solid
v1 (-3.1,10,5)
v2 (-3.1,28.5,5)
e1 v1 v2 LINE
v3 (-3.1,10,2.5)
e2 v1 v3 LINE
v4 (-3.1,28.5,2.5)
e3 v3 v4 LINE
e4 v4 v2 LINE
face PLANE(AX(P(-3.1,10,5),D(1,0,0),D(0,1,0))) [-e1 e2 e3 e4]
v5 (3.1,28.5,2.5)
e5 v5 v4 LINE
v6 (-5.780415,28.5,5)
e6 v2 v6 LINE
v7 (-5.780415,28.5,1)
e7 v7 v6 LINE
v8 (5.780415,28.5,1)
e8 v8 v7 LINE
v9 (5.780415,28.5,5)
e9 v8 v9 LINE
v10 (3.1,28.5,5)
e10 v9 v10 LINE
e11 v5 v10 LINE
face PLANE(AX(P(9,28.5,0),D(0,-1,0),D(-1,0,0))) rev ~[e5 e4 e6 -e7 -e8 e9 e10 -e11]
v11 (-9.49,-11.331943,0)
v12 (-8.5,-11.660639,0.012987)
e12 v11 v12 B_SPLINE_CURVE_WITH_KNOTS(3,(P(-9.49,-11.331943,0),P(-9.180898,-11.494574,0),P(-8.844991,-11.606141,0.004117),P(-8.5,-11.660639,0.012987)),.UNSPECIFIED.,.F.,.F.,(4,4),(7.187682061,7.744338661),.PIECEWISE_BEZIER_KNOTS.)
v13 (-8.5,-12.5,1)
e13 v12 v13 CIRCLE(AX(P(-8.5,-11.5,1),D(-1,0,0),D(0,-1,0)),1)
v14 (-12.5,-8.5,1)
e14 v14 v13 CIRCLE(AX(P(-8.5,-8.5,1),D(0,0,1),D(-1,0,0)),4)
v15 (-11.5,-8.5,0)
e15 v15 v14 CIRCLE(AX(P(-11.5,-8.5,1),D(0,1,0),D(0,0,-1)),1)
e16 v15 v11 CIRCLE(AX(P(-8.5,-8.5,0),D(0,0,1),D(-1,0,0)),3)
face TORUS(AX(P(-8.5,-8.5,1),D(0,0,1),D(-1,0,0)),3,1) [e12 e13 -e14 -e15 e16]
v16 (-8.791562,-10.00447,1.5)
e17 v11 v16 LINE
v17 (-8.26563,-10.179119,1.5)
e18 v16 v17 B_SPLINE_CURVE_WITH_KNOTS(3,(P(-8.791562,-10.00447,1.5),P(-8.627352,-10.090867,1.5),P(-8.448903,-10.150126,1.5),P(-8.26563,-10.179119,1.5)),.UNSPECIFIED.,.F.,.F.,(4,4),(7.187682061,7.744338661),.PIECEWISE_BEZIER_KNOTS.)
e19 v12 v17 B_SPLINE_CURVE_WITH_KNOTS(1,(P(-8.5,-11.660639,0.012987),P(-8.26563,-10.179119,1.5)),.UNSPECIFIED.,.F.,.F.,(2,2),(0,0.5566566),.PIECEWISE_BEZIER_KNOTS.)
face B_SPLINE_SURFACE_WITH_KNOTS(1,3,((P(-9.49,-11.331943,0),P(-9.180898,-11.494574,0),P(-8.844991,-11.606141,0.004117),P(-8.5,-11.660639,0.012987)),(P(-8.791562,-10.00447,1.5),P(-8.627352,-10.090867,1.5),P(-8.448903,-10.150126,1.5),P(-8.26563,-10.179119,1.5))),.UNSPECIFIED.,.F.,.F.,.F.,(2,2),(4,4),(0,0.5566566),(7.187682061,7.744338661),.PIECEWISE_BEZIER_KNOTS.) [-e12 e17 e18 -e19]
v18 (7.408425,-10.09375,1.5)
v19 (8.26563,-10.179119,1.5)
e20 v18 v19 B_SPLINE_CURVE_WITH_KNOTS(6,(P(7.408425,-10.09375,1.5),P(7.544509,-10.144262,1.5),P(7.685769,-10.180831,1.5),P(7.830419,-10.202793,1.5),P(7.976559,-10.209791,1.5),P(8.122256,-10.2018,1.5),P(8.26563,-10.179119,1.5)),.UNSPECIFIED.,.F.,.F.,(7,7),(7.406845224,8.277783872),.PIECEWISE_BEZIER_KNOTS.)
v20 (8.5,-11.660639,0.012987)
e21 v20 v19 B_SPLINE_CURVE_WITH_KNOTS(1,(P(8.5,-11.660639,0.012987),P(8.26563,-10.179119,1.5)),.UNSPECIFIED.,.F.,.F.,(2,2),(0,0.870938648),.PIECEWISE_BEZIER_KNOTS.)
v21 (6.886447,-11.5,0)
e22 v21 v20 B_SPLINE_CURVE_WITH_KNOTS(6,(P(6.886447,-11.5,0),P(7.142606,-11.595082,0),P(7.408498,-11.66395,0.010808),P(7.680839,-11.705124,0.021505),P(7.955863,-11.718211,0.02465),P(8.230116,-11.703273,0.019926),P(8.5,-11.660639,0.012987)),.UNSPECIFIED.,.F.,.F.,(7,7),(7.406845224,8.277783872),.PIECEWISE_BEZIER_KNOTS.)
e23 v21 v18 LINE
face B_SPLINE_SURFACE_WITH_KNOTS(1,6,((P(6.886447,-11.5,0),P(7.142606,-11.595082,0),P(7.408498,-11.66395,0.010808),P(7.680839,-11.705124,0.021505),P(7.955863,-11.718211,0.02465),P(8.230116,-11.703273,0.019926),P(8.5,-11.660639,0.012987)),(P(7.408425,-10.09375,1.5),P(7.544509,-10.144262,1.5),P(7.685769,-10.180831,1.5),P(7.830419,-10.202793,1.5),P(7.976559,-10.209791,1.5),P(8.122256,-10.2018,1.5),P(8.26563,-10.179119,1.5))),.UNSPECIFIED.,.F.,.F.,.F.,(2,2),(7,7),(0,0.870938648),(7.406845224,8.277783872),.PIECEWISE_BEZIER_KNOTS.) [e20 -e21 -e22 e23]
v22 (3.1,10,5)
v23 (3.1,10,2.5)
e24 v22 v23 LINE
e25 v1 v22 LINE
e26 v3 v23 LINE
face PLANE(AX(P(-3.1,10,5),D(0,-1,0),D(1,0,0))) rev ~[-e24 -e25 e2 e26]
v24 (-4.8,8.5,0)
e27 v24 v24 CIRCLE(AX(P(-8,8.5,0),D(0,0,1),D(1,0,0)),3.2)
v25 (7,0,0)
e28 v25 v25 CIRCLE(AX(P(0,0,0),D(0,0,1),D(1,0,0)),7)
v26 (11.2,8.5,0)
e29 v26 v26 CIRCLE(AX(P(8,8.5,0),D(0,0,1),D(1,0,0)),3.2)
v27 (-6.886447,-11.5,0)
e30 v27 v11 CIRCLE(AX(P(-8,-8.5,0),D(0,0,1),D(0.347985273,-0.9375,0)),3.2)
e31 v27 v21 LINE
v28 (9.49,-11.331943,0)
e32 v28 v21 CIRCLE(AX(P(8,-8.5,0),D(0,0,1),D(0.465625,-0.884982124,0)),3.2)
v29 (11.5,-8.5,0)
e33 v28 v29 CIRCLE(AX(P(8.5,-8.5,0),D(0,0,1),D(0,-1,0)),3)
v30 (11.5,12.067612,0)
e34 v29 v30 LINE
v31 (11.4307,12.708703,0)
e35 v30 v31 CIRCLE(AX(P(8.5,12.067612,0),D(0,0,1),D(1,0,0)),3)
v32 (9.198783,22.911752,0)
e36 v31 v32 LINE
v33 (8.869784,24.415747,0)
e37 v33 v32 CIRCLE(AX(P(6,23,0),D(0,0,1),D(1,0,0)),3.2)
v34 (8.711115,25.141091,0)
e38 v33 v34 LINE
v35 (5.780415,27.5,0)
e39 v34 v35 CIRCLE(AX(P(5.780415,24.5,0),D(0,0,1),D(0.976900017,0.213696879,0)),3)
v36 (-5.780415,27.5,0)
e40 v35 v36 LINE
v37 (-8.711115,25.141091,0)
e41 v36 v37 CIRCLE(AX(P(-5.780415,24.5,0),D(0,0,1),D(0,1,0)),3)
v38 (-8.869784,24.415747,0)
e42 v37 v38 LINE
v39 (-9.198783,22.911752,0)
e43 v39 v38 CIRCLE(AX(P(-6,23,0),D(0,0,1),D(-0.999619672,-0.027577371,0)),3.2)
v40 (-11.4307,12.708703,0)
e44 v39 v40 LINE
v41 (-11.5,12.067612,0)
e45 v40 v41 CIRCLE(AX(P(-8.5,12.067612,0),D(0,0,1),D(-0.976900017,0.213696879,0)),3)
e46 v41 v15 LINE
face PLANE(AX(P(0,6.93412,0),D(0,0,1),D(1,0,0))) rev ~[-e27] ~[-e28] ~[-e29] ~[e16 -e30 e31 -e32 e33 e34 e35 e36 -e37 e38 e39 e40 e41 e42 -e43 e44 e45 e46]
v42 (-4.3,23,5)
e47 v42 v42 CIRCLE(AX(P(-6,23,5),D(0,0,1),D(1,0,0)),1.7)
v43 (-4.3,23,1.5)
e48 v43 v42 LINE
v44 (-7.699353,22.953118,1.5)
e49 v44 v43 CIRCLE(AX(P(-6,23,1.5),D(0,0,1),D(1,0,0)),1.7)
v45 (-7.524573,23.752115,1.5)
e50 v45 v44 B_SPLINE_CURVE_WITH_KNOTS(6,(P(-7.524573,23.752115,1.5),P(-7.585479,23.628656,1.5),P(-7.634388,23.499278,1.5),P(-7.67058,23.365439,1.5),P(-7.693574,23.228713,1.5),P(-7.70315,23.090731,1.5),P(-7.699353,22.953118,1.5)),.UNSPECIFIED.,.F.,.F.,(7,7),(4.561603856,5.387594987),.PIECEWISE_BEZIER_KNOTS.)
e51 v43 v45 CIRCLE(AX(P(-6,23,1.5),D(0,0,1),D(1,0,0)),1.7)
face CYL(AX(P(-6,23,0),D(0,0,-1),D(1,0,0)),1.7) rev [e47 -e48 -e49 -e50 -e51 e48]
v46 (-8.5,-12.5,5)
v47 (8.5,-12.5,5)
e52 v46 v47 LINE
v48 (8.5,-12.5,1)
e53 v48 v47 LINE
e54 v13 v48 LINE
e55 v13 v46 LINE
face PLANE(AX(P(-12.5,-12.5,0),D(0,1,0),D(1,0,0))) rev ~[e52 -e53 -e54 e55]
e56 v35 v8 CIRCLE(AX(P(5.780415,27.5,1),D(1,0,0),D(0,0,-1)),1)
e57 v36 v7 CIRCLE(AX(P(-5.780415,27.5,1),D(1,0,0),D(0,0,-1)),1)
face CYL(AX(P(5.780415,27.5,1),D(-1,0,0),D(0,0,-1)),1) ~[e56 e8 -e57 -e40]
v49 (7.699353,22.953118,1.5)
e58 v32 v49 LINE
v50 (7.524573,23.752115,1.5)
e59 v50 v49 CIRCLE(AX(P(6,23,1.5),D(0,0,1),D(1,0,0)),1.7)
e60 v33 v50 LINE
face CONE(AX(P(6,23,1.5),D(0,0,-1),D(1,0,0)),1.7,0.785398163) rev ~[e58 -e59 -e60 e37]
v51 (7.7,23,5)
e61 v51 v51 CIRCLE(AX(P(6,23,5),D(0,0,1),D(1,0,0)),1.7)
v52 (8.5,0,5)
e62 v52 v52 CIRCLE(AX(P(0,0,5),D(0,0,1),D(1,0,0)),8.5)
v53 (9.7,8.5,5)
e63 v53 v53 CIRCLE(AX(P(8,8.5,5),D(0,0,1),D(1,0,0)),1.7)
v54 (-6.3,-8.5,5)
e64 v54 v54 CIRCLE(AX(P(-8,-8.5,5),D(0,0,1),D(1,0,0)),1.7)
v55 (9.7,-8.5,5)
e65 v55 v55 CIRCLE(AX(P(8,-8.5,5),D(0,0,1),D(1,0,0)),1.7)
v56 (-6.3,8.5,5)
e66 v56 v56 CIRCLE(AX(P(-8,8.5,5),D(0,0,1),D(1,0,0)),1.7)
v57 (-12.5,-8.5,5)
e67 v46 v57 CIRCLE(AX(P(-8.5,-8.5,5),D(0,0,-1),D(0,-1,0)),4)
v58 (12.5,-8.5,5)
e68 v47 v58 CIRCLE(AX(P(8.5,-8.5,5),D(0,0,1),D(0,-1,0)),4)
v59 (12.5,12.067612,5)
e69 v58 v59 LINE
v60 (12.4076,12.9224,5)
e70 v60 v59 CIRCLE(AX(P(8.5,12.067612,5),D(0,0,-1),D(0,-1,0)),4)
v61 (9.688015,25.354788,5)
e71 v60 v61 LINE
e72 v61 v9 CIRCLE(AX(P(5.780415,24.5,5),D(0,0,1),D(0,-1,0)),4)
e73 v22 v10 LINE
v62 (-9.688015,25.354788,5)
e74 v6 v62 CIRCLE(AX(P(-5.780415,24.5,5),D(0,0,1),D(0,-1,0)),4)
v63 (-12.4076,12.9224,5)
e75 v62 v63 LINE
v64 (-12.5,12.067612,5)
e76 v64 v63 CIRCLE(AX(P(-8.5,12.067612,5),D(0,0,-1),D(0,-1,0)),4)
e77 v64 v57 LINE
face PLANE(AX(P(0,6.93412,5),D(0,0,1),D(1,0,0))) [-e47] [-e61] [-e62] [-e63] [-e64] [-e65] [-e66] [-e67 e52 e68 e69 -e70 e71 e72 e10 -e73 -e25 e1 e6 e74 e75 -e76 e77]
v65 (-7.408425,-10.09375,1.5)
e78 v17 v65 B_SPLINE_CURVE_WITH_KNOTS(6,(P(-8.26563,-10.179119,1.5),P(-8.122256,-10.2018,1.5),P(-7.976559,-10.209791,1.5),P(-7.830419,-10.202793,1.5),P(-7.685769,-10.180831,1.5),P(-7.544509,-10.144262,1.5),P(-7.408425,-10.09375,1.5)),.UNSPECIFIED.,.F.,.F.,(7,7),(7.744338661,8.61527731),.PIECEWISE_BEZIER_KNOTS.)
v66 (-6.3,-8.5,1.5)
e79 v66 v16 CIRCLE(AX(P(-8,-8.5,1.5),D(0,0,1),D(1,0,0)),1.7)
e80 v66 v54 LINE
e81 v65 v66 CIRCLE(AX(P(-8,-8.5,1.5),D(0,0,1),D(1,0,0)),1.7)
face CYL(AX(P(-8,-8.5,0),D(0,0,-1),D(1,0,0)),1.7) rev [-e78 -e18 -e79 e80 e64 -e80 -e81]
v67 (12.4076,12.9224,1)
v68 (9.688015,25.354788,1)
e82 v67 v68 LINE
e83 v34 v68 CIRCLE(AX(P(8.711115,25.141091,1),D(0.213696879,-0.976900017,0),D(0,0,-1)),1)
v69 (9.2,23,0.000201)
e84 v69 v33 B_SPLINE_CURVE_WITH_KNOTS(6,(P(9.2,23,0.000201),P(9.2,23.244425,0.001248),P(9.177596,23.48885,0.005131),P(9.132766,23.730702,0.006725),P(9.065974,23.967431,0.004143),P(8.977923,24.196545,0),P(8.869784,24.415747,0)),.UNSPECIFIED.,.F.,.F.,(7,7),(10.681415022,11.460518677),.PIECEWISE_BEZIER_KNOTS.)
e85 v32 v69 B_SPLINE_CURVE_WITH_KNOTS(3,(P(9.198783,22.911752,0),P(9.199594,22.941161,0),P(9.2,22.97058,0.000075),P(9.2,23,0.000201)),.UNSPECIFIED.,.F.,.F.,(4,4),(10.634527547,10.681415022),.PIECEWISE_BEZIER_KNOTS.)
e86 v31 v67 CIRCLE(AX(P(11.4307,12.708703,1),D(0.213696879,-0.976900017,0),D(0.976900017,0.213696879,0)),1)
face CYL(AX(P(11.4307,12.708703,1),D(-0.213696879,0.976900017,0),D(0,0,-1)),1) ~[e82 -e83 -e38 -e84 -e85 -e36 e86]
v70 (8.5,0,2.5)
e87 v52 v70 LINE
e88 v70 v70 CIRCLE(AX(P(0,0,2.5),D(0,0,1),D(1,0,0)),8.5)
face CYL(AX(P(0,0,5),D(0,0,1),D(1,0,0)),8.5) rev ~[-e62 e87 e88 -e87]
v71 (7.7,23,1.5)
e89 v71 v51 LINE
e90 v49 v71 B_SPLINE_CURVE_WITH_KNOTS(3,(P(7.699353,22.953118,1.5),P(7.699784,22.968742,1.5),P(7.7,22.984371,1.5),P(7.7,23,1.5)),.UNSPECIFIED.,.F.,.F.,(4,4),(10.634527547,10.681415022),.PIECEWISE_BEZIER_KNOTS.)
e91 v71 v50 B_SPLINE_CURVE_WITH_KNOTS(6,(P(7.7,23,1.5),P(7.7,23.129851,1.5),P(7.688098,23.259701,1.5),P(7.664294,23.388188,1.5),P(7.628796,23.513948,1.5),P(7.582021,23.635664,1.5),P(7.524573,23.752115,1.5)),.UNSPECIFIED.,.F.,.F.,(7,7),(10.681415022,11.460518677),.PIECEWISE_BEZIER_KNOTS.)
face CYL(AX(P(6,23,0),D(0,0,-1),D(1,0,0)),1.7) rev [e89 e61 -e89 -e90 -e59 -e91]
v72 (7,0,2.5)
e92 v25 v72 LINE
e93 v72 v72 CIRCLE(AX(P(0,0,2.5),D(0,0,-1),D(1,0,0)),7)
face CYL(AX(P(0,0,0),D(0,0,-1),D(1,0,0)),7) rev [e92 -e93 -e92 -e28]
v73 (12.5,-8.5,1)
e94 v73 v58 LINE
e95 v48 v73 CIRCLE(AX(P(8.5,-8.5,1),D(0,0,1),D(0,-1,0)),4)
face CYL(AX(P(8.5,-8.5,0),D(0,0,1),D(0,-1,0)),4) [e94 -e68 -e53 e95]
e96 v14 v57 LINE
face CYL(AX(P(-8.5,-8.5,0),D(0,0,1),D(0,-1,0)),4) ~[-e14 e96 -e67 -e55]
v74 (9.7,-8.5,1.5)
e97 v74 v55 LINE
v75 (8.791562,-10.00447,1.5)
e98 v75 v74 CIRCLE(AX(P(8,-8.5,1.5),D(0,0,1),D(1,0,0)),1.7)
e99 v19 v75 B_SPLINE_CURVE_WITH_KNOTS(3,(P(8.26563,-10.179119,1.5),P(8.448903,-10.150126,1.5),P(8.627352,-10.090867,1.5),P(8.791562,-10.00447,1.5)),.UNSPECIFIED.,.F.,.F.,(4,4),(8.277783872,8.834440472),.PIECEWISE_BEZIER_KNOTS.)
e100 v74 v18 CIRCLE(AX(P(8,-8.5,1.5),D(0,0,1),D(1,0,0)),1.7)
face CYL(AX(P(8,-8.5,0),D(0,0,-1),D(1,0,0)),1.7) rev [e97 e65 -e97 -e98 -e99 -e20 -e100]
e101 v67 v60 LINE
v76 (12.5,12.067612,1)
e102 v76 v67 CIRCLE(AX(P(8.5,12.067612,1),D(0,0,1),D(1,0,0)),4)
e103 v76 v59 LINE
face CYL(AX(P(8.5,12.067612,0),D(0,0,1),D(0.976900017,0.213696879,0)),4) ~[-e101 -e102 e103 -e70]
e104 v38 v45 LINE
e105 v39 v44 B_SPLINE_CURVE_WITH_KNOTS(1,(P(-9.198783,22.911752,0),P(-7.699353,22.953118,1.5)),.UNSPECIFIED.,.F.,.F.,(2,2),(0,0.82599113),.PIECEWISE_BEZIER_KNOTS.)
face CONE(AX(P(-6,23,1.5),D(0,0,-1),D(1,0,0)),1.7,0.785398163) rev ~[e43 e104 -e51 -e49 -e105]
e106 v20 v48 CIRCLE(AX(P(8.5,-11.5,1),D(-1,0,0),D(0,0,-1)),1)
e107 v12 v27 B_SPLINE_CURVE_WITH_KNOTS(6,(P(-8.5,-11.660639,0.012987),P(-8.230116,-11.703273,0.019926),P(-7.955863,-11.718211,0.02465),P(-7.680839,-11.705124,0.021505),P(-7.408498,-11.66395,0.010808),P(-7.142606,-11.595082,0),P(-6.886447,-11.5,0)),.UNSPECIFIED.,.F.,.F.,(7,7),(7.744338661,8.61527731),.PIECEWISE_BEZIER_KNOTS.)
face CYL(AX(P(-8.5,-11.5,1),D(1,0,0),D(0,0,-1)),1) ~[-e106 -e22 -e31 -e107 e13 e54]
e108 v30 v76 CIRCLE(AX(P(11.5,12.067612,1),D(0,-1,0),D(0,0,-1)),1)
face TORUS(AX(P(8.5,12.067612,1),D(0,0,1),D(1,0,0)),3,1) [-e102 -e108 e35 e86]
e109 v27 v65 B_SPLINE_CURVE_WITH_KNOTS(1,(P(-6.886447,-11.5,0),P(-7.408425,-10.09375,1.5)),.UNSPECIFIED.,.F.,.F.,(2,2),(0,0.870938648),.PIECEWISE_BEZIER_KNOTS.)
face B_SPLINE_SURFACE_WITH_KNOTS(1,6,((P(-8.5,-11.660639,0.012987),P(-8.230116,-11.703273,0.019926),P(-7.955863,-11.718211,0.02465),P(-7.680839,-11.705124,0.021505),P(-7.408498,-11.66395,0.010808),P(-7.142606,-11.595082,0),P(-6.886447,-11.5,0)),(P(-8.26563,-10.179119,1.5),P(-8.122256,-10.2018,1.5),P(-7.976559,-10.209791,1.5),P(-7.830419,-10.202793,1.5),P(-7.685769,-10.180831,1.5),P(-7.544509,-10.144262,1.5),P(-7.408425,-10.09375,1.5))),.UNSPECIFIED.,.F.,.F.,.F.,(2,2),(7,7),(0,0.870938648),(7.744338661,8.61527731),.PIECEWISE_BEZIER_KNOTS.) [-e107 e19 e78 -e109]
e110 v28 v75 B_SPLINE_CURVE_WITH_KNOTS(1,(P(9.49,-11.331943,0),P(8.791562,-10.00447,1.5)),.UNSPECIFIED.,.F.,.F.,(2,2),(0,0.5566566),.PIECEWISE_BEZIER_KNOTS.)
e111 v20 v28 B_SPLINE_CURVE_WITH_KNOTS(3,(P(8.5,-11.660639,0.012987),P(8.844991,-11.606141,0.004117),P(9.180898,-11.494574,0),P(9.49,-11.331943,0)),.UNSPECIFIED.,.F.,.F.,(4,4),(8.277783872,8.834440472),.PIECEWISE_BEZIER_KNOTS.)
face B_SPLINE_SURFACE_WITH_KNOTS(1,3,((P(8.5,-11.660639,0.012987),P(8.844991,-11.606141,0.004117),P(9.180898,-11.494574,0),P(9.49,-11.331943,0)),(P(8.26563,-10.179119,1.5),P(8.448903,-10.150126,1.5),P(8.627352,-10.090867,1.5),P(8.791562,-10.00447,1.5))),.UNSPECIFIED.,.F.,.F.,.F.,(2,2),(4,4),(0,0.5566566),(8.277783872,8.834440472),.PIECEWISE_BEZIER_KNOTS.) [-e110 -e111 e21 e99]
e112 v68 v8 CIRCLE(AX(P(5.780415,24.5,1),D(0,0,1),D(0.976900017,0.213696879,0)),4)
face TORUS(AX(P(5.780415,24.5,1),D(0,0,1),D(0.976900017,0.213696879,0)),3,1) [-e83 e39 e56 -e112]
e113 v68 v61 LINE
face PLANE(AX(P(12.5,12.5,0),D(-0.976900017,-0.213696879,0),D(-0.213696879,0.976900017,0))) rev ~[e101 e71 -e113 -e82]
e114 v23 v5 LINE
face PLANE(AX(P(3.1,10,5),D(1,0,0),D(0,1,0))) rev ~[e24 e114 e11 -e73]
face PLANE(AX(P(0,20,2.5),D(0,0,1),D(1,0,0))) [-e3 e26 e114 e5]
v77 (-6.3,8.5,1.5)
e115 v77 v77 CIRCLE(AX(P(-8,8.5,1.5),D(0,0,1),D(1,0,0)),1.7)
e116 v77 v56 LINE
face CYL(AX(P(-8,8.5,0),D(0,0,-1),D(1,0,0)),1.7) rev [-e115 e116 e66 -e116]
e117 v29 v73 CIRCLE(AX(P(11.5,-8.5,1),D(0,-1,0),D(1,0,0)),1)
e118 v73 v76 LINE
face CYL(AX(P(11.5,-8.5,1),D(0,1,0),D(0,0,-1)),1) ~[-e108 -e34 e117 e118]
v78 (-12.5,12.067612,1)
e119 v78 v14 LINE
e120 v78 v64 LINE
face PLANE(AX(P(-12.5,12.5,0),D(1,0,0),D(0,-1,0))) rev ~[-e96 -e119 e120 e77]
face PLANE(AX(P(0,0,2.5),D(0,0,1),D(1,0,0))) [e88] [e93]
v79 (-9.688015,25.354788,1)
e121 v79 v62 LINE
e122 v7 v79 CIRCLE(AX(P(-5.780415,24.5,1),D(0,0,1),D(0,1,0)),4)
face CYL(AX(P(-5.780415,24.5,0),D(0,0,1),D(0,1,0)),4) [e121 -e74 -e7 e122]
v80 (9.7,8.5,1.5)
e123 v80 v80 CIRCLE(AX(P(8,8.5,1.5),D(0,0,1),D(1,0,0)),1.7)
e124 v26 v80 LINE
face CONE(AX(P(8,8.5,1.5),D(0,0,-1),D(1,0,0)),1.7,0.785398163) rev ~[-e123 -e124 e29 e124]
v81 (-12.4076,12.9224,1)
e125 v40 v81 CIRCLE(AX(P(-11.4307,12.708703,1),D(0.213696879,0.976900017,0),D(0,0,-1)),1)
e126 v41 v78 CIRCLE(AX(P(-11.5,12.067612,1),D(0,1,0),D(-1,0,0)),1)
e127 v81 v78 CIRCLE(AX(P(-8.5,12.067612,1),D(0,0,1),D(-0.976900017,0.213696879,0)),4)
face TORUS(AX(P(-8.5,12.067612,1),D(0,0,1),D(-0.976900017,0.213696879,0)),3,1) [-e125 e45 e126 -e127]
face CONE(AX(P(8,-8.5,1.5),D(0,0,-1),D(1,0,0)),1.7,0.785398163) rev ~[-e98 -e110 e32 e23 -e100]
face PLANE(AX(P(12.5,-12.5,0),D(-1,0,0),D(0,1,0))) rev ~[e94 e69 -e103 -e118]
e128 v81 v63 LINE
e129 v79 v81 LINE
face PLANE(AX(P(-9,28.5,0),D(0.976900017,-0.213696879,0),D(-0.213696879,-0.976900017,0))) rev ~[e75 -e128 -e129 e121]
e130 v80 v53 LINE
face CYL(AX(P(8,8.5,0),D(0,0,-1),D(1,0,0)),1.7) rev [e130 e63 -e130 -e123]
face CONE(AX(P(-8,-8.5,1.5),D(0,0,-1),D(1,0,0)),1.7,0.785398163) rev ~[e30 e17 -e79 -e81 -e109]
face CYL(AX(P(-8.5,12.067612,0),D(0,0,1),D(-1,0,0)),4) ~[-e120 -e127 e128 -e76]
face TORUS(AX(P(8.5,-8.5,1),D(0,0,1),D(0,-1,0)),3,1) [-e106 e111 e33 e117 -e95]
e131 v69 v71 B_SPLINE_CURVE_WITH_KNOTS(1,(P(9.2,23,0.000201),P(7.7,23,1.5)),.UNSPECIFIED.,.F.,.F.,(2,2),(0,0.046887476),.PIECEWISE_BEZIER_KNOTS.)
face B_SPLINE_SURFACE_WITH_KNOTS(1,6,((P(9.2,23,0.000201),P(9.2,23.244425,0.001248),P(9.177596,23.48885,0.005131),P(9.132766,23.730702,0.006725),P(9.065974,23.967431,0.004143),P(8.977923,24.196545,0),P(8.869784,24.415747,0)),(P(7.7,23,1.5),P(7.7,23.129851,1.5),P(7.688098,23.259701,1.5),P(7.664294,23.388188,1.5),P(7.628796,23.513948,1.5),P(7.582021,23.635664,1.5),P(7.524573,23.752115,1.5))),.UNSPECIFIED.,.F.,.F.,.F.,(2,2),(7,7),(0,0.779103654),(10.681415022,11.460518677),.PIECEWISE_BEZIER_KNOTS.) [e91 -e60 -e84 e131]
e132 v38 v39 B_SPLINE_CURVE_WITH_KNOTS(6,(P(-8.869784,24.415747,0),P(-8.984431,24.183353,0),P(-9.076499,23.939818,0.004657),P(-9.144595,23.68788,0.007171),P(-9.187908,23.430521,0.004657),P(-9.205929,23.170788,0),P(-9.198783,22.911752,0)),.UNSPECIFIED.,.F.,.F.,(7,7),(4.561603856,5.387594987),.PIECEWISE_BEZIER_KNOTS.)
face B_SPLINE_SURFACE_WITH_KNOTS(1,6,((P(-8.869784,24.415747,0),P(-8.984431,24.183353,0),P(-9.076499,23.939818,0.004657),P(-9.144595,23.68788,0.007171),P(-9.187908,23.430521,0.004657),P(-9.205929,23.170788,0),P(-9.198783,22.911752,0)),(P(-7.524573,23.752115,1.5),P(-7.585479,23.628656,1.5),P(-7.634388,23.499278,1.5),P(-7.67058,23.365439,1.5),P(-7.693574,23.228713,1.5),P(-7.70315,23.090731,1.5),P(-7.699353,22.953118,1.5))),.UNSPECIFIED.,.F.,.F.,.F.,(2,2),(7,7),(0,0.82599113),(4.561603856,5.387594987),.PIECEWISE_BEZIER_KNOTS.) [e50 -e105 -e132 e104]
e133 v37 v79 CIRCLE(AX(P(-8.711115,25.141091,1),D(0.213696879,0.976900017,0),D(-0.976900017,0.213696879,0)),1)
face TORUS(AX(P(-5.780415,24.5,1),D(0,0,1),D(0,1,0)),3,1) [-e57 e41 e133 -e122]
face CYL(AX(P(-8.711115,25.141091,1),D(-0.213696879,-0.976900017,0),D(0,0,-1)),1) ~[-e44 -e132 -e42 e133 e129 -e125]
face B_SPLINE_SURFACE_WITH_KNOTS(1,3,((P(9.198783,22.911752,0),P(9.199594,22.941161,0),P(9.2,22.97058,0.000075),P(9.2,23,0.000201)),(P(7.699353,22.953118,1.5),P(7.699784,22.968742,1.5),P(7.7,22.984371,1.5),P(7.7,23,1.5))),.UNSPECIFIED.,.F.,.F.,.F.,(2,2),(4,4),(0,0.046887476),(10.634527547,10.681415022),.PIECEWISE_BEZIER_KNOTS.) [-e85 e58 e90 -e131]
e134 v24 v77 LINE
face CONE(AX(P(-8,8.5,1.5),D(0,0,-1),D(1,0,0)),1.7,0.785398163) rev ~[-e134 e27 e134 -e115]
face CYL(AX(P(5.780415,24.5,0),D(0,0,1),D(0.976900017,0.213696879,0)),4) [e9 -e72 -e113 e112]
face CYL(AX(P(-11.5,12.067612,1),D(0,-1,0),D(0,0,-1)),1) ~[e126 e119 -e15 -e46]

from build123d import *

# Parameters (mm, degrees)
SKETCH_R        = 7
SKETCH_R_2      = 1.7
PAD_DEPTH       = 5
SKETCH001_R     = 8.5
SKETCH001_W     = 6.2
SKETCH001_H     = 20
POCKET_DEPTH    = 2.5
FILLET_R        = 4
FILLET001_R     = 4
FILLET002_R     = 4
FILLET003_R     = 4
FILLET004_R     = 4
FILLET005_R     = 4
FILLET006_R     = 1
CHAMFER_SIZE    = 1.5
CHAMFER001_SIZE = 1.5
CHAMFER002_SIZE = 1.5
CHAMFER003_SIZE = 1.5
CHAMFER004_SIZE = 1.5
CHAMFER005_SIZE = 1.5


with BuildPart() as part:
    # Sketch → Pad (new body)
    with BuildSketch(Plane.XY):
        Polygon((-12.5, -12.5), (12.5, -12.5), (12.5, 12.5), (9, 28.5), (-9, 28.5), (-12.5, 12.5), align=None)
        Circle(SKETCH_R, mode=Mode.SUBTRACT)
        with Locations((-8, 8.5)):
            Circle(SKETCH_R_2, mode=Mode.SUBTRACT)
        with Locations((8, 8.5)):
            Circle(SKETCH_R_2, mode=Mode.SUBTRACT)
        with Locations((-8, -8.5)):
            Circle(SKETCH_R_2, mode=Mode.SUBTRACT)
        with Locations((8, -8.5)):
            Circle(SKETCH_R_2, mode=Mode.SUBTRACT)
        with Locations((-6, 23)):
            Circle(SKETCH_R_2, mode=Mode.SUBTRACT)
        with Locations((6, 23)):
            Circle(SKETCH_R_2, mode=Mode.SUBTRACT)
    extrude(amount=PAD_DEPTH)

    # Sketch001 → Pocket (cut)
    with BuildSketch(Plane.XY.offset(5)):
        Circle(SKETCH001_R)
        with Locations((0, 20)):
            Rectangle(SKETCH001_W, SKETCH001_H)
    extrude(amount=-POCKET_DEPTH, mode=Mode.SUBTRACT)

    # Fillet
    fillet_edges = [part.edges().sort_by_distance(p)[0] for p in [
        (-12.5, -12.5, 2.5),
    ]]
    fillet(fillet_edges, radius=FILLET_R)

    # Fillet001
    fillet001_edges = [part.edges().sort_by_distance(p)[0] for p in [
        (12.5, -12.5, 2.5),
    ]]
    fillet(fillet001_edges, radius=FILLET001_R)

    # Fillet002
    fillet002_edges = [part.edges().sort_by_distance(p)[0] for p in [
        (-12.5, 12.5, 2.5),
    ]]
    fillet(fillet002_edges, radius=FILLET002_R)

    # Fillet003
    fillet003_edges = [part.edges().sort_by_distance(p)[0] for p in [
        (12.5, 12.5, 2.5),
    ]]
    fillet(fillet003_edges, radius=FILLET003_R)

    # Fillet004
    fillet004_edges = [part.edges().sort_by_distance(p)[0] for p in [
        (9, 28.5, 2.5),
    ]]
    fillet(fillet004_edges, radius=FILLET004_R)

    # Fillet005
    fillet005_edges = [part.edges().sort_by_distance(p)[0] for p in [
        (-9, 28.5, 2.5),
    ]]
    fillet(fillet005_edges, radius=FILLET005_R)

    # Fillet006
    fillet006_edges = [part.edges().sort_by_distance(p)[0] for p in [
        (0, 28.5, 0),
    ]]
    fillet(fillet006_edges, radius=FILLET006_R)

    # Chamfer
    chamfer_edges = [part.edges().sort_by_distance(p)[0] for p in [
        (-9.7, -8.5, 0),
    ]]
    chamfer(chamfer_edges, length=CHAMFER_SIZE)

    # Chamfer001
    chamfer001_edges = [part.edges().sort_by_distance(p)[0] for p in [
        (-9.7, 8.5, 0),
    ]]
    chamfer(chamfer001_edges, length=CHAMFER001_SIZE)

    # Chamfer002
    chamfer002_edges = [part.edges().sort_by_distance(p)[0] for p in [
        (6.3, -8.5, 0),
    ]]
    chamfer(chamfer002_edges, length=CHAMFER002_SIZE)

    # Chamfer003
    chamfer003_edges = [part.edges().sort_by_distance(p)[0] for p in [
        (6.3, 8.5, 0),
    ]]
    chamfer(chamfer003_edges, length=CHAMFER003_SIZE)

    # Chamfer004
    chamfer004_edges = [part.edges().sort_by_distance(p)[0] for p in [
        (4.3, 23, 0),
    ]]
    chamfer(chamfer004_edges, length=CHAMFER004_SIZE)

    # Chamfer005
    chamfer005_edges = [part.edges().sort_by_distance(p)[0] for p in [
        (-7.7, 23, 0),
    ]]
    chamfer(chamfer005_edges, length=CHAMFER005_SIZE)


solid = part.part
